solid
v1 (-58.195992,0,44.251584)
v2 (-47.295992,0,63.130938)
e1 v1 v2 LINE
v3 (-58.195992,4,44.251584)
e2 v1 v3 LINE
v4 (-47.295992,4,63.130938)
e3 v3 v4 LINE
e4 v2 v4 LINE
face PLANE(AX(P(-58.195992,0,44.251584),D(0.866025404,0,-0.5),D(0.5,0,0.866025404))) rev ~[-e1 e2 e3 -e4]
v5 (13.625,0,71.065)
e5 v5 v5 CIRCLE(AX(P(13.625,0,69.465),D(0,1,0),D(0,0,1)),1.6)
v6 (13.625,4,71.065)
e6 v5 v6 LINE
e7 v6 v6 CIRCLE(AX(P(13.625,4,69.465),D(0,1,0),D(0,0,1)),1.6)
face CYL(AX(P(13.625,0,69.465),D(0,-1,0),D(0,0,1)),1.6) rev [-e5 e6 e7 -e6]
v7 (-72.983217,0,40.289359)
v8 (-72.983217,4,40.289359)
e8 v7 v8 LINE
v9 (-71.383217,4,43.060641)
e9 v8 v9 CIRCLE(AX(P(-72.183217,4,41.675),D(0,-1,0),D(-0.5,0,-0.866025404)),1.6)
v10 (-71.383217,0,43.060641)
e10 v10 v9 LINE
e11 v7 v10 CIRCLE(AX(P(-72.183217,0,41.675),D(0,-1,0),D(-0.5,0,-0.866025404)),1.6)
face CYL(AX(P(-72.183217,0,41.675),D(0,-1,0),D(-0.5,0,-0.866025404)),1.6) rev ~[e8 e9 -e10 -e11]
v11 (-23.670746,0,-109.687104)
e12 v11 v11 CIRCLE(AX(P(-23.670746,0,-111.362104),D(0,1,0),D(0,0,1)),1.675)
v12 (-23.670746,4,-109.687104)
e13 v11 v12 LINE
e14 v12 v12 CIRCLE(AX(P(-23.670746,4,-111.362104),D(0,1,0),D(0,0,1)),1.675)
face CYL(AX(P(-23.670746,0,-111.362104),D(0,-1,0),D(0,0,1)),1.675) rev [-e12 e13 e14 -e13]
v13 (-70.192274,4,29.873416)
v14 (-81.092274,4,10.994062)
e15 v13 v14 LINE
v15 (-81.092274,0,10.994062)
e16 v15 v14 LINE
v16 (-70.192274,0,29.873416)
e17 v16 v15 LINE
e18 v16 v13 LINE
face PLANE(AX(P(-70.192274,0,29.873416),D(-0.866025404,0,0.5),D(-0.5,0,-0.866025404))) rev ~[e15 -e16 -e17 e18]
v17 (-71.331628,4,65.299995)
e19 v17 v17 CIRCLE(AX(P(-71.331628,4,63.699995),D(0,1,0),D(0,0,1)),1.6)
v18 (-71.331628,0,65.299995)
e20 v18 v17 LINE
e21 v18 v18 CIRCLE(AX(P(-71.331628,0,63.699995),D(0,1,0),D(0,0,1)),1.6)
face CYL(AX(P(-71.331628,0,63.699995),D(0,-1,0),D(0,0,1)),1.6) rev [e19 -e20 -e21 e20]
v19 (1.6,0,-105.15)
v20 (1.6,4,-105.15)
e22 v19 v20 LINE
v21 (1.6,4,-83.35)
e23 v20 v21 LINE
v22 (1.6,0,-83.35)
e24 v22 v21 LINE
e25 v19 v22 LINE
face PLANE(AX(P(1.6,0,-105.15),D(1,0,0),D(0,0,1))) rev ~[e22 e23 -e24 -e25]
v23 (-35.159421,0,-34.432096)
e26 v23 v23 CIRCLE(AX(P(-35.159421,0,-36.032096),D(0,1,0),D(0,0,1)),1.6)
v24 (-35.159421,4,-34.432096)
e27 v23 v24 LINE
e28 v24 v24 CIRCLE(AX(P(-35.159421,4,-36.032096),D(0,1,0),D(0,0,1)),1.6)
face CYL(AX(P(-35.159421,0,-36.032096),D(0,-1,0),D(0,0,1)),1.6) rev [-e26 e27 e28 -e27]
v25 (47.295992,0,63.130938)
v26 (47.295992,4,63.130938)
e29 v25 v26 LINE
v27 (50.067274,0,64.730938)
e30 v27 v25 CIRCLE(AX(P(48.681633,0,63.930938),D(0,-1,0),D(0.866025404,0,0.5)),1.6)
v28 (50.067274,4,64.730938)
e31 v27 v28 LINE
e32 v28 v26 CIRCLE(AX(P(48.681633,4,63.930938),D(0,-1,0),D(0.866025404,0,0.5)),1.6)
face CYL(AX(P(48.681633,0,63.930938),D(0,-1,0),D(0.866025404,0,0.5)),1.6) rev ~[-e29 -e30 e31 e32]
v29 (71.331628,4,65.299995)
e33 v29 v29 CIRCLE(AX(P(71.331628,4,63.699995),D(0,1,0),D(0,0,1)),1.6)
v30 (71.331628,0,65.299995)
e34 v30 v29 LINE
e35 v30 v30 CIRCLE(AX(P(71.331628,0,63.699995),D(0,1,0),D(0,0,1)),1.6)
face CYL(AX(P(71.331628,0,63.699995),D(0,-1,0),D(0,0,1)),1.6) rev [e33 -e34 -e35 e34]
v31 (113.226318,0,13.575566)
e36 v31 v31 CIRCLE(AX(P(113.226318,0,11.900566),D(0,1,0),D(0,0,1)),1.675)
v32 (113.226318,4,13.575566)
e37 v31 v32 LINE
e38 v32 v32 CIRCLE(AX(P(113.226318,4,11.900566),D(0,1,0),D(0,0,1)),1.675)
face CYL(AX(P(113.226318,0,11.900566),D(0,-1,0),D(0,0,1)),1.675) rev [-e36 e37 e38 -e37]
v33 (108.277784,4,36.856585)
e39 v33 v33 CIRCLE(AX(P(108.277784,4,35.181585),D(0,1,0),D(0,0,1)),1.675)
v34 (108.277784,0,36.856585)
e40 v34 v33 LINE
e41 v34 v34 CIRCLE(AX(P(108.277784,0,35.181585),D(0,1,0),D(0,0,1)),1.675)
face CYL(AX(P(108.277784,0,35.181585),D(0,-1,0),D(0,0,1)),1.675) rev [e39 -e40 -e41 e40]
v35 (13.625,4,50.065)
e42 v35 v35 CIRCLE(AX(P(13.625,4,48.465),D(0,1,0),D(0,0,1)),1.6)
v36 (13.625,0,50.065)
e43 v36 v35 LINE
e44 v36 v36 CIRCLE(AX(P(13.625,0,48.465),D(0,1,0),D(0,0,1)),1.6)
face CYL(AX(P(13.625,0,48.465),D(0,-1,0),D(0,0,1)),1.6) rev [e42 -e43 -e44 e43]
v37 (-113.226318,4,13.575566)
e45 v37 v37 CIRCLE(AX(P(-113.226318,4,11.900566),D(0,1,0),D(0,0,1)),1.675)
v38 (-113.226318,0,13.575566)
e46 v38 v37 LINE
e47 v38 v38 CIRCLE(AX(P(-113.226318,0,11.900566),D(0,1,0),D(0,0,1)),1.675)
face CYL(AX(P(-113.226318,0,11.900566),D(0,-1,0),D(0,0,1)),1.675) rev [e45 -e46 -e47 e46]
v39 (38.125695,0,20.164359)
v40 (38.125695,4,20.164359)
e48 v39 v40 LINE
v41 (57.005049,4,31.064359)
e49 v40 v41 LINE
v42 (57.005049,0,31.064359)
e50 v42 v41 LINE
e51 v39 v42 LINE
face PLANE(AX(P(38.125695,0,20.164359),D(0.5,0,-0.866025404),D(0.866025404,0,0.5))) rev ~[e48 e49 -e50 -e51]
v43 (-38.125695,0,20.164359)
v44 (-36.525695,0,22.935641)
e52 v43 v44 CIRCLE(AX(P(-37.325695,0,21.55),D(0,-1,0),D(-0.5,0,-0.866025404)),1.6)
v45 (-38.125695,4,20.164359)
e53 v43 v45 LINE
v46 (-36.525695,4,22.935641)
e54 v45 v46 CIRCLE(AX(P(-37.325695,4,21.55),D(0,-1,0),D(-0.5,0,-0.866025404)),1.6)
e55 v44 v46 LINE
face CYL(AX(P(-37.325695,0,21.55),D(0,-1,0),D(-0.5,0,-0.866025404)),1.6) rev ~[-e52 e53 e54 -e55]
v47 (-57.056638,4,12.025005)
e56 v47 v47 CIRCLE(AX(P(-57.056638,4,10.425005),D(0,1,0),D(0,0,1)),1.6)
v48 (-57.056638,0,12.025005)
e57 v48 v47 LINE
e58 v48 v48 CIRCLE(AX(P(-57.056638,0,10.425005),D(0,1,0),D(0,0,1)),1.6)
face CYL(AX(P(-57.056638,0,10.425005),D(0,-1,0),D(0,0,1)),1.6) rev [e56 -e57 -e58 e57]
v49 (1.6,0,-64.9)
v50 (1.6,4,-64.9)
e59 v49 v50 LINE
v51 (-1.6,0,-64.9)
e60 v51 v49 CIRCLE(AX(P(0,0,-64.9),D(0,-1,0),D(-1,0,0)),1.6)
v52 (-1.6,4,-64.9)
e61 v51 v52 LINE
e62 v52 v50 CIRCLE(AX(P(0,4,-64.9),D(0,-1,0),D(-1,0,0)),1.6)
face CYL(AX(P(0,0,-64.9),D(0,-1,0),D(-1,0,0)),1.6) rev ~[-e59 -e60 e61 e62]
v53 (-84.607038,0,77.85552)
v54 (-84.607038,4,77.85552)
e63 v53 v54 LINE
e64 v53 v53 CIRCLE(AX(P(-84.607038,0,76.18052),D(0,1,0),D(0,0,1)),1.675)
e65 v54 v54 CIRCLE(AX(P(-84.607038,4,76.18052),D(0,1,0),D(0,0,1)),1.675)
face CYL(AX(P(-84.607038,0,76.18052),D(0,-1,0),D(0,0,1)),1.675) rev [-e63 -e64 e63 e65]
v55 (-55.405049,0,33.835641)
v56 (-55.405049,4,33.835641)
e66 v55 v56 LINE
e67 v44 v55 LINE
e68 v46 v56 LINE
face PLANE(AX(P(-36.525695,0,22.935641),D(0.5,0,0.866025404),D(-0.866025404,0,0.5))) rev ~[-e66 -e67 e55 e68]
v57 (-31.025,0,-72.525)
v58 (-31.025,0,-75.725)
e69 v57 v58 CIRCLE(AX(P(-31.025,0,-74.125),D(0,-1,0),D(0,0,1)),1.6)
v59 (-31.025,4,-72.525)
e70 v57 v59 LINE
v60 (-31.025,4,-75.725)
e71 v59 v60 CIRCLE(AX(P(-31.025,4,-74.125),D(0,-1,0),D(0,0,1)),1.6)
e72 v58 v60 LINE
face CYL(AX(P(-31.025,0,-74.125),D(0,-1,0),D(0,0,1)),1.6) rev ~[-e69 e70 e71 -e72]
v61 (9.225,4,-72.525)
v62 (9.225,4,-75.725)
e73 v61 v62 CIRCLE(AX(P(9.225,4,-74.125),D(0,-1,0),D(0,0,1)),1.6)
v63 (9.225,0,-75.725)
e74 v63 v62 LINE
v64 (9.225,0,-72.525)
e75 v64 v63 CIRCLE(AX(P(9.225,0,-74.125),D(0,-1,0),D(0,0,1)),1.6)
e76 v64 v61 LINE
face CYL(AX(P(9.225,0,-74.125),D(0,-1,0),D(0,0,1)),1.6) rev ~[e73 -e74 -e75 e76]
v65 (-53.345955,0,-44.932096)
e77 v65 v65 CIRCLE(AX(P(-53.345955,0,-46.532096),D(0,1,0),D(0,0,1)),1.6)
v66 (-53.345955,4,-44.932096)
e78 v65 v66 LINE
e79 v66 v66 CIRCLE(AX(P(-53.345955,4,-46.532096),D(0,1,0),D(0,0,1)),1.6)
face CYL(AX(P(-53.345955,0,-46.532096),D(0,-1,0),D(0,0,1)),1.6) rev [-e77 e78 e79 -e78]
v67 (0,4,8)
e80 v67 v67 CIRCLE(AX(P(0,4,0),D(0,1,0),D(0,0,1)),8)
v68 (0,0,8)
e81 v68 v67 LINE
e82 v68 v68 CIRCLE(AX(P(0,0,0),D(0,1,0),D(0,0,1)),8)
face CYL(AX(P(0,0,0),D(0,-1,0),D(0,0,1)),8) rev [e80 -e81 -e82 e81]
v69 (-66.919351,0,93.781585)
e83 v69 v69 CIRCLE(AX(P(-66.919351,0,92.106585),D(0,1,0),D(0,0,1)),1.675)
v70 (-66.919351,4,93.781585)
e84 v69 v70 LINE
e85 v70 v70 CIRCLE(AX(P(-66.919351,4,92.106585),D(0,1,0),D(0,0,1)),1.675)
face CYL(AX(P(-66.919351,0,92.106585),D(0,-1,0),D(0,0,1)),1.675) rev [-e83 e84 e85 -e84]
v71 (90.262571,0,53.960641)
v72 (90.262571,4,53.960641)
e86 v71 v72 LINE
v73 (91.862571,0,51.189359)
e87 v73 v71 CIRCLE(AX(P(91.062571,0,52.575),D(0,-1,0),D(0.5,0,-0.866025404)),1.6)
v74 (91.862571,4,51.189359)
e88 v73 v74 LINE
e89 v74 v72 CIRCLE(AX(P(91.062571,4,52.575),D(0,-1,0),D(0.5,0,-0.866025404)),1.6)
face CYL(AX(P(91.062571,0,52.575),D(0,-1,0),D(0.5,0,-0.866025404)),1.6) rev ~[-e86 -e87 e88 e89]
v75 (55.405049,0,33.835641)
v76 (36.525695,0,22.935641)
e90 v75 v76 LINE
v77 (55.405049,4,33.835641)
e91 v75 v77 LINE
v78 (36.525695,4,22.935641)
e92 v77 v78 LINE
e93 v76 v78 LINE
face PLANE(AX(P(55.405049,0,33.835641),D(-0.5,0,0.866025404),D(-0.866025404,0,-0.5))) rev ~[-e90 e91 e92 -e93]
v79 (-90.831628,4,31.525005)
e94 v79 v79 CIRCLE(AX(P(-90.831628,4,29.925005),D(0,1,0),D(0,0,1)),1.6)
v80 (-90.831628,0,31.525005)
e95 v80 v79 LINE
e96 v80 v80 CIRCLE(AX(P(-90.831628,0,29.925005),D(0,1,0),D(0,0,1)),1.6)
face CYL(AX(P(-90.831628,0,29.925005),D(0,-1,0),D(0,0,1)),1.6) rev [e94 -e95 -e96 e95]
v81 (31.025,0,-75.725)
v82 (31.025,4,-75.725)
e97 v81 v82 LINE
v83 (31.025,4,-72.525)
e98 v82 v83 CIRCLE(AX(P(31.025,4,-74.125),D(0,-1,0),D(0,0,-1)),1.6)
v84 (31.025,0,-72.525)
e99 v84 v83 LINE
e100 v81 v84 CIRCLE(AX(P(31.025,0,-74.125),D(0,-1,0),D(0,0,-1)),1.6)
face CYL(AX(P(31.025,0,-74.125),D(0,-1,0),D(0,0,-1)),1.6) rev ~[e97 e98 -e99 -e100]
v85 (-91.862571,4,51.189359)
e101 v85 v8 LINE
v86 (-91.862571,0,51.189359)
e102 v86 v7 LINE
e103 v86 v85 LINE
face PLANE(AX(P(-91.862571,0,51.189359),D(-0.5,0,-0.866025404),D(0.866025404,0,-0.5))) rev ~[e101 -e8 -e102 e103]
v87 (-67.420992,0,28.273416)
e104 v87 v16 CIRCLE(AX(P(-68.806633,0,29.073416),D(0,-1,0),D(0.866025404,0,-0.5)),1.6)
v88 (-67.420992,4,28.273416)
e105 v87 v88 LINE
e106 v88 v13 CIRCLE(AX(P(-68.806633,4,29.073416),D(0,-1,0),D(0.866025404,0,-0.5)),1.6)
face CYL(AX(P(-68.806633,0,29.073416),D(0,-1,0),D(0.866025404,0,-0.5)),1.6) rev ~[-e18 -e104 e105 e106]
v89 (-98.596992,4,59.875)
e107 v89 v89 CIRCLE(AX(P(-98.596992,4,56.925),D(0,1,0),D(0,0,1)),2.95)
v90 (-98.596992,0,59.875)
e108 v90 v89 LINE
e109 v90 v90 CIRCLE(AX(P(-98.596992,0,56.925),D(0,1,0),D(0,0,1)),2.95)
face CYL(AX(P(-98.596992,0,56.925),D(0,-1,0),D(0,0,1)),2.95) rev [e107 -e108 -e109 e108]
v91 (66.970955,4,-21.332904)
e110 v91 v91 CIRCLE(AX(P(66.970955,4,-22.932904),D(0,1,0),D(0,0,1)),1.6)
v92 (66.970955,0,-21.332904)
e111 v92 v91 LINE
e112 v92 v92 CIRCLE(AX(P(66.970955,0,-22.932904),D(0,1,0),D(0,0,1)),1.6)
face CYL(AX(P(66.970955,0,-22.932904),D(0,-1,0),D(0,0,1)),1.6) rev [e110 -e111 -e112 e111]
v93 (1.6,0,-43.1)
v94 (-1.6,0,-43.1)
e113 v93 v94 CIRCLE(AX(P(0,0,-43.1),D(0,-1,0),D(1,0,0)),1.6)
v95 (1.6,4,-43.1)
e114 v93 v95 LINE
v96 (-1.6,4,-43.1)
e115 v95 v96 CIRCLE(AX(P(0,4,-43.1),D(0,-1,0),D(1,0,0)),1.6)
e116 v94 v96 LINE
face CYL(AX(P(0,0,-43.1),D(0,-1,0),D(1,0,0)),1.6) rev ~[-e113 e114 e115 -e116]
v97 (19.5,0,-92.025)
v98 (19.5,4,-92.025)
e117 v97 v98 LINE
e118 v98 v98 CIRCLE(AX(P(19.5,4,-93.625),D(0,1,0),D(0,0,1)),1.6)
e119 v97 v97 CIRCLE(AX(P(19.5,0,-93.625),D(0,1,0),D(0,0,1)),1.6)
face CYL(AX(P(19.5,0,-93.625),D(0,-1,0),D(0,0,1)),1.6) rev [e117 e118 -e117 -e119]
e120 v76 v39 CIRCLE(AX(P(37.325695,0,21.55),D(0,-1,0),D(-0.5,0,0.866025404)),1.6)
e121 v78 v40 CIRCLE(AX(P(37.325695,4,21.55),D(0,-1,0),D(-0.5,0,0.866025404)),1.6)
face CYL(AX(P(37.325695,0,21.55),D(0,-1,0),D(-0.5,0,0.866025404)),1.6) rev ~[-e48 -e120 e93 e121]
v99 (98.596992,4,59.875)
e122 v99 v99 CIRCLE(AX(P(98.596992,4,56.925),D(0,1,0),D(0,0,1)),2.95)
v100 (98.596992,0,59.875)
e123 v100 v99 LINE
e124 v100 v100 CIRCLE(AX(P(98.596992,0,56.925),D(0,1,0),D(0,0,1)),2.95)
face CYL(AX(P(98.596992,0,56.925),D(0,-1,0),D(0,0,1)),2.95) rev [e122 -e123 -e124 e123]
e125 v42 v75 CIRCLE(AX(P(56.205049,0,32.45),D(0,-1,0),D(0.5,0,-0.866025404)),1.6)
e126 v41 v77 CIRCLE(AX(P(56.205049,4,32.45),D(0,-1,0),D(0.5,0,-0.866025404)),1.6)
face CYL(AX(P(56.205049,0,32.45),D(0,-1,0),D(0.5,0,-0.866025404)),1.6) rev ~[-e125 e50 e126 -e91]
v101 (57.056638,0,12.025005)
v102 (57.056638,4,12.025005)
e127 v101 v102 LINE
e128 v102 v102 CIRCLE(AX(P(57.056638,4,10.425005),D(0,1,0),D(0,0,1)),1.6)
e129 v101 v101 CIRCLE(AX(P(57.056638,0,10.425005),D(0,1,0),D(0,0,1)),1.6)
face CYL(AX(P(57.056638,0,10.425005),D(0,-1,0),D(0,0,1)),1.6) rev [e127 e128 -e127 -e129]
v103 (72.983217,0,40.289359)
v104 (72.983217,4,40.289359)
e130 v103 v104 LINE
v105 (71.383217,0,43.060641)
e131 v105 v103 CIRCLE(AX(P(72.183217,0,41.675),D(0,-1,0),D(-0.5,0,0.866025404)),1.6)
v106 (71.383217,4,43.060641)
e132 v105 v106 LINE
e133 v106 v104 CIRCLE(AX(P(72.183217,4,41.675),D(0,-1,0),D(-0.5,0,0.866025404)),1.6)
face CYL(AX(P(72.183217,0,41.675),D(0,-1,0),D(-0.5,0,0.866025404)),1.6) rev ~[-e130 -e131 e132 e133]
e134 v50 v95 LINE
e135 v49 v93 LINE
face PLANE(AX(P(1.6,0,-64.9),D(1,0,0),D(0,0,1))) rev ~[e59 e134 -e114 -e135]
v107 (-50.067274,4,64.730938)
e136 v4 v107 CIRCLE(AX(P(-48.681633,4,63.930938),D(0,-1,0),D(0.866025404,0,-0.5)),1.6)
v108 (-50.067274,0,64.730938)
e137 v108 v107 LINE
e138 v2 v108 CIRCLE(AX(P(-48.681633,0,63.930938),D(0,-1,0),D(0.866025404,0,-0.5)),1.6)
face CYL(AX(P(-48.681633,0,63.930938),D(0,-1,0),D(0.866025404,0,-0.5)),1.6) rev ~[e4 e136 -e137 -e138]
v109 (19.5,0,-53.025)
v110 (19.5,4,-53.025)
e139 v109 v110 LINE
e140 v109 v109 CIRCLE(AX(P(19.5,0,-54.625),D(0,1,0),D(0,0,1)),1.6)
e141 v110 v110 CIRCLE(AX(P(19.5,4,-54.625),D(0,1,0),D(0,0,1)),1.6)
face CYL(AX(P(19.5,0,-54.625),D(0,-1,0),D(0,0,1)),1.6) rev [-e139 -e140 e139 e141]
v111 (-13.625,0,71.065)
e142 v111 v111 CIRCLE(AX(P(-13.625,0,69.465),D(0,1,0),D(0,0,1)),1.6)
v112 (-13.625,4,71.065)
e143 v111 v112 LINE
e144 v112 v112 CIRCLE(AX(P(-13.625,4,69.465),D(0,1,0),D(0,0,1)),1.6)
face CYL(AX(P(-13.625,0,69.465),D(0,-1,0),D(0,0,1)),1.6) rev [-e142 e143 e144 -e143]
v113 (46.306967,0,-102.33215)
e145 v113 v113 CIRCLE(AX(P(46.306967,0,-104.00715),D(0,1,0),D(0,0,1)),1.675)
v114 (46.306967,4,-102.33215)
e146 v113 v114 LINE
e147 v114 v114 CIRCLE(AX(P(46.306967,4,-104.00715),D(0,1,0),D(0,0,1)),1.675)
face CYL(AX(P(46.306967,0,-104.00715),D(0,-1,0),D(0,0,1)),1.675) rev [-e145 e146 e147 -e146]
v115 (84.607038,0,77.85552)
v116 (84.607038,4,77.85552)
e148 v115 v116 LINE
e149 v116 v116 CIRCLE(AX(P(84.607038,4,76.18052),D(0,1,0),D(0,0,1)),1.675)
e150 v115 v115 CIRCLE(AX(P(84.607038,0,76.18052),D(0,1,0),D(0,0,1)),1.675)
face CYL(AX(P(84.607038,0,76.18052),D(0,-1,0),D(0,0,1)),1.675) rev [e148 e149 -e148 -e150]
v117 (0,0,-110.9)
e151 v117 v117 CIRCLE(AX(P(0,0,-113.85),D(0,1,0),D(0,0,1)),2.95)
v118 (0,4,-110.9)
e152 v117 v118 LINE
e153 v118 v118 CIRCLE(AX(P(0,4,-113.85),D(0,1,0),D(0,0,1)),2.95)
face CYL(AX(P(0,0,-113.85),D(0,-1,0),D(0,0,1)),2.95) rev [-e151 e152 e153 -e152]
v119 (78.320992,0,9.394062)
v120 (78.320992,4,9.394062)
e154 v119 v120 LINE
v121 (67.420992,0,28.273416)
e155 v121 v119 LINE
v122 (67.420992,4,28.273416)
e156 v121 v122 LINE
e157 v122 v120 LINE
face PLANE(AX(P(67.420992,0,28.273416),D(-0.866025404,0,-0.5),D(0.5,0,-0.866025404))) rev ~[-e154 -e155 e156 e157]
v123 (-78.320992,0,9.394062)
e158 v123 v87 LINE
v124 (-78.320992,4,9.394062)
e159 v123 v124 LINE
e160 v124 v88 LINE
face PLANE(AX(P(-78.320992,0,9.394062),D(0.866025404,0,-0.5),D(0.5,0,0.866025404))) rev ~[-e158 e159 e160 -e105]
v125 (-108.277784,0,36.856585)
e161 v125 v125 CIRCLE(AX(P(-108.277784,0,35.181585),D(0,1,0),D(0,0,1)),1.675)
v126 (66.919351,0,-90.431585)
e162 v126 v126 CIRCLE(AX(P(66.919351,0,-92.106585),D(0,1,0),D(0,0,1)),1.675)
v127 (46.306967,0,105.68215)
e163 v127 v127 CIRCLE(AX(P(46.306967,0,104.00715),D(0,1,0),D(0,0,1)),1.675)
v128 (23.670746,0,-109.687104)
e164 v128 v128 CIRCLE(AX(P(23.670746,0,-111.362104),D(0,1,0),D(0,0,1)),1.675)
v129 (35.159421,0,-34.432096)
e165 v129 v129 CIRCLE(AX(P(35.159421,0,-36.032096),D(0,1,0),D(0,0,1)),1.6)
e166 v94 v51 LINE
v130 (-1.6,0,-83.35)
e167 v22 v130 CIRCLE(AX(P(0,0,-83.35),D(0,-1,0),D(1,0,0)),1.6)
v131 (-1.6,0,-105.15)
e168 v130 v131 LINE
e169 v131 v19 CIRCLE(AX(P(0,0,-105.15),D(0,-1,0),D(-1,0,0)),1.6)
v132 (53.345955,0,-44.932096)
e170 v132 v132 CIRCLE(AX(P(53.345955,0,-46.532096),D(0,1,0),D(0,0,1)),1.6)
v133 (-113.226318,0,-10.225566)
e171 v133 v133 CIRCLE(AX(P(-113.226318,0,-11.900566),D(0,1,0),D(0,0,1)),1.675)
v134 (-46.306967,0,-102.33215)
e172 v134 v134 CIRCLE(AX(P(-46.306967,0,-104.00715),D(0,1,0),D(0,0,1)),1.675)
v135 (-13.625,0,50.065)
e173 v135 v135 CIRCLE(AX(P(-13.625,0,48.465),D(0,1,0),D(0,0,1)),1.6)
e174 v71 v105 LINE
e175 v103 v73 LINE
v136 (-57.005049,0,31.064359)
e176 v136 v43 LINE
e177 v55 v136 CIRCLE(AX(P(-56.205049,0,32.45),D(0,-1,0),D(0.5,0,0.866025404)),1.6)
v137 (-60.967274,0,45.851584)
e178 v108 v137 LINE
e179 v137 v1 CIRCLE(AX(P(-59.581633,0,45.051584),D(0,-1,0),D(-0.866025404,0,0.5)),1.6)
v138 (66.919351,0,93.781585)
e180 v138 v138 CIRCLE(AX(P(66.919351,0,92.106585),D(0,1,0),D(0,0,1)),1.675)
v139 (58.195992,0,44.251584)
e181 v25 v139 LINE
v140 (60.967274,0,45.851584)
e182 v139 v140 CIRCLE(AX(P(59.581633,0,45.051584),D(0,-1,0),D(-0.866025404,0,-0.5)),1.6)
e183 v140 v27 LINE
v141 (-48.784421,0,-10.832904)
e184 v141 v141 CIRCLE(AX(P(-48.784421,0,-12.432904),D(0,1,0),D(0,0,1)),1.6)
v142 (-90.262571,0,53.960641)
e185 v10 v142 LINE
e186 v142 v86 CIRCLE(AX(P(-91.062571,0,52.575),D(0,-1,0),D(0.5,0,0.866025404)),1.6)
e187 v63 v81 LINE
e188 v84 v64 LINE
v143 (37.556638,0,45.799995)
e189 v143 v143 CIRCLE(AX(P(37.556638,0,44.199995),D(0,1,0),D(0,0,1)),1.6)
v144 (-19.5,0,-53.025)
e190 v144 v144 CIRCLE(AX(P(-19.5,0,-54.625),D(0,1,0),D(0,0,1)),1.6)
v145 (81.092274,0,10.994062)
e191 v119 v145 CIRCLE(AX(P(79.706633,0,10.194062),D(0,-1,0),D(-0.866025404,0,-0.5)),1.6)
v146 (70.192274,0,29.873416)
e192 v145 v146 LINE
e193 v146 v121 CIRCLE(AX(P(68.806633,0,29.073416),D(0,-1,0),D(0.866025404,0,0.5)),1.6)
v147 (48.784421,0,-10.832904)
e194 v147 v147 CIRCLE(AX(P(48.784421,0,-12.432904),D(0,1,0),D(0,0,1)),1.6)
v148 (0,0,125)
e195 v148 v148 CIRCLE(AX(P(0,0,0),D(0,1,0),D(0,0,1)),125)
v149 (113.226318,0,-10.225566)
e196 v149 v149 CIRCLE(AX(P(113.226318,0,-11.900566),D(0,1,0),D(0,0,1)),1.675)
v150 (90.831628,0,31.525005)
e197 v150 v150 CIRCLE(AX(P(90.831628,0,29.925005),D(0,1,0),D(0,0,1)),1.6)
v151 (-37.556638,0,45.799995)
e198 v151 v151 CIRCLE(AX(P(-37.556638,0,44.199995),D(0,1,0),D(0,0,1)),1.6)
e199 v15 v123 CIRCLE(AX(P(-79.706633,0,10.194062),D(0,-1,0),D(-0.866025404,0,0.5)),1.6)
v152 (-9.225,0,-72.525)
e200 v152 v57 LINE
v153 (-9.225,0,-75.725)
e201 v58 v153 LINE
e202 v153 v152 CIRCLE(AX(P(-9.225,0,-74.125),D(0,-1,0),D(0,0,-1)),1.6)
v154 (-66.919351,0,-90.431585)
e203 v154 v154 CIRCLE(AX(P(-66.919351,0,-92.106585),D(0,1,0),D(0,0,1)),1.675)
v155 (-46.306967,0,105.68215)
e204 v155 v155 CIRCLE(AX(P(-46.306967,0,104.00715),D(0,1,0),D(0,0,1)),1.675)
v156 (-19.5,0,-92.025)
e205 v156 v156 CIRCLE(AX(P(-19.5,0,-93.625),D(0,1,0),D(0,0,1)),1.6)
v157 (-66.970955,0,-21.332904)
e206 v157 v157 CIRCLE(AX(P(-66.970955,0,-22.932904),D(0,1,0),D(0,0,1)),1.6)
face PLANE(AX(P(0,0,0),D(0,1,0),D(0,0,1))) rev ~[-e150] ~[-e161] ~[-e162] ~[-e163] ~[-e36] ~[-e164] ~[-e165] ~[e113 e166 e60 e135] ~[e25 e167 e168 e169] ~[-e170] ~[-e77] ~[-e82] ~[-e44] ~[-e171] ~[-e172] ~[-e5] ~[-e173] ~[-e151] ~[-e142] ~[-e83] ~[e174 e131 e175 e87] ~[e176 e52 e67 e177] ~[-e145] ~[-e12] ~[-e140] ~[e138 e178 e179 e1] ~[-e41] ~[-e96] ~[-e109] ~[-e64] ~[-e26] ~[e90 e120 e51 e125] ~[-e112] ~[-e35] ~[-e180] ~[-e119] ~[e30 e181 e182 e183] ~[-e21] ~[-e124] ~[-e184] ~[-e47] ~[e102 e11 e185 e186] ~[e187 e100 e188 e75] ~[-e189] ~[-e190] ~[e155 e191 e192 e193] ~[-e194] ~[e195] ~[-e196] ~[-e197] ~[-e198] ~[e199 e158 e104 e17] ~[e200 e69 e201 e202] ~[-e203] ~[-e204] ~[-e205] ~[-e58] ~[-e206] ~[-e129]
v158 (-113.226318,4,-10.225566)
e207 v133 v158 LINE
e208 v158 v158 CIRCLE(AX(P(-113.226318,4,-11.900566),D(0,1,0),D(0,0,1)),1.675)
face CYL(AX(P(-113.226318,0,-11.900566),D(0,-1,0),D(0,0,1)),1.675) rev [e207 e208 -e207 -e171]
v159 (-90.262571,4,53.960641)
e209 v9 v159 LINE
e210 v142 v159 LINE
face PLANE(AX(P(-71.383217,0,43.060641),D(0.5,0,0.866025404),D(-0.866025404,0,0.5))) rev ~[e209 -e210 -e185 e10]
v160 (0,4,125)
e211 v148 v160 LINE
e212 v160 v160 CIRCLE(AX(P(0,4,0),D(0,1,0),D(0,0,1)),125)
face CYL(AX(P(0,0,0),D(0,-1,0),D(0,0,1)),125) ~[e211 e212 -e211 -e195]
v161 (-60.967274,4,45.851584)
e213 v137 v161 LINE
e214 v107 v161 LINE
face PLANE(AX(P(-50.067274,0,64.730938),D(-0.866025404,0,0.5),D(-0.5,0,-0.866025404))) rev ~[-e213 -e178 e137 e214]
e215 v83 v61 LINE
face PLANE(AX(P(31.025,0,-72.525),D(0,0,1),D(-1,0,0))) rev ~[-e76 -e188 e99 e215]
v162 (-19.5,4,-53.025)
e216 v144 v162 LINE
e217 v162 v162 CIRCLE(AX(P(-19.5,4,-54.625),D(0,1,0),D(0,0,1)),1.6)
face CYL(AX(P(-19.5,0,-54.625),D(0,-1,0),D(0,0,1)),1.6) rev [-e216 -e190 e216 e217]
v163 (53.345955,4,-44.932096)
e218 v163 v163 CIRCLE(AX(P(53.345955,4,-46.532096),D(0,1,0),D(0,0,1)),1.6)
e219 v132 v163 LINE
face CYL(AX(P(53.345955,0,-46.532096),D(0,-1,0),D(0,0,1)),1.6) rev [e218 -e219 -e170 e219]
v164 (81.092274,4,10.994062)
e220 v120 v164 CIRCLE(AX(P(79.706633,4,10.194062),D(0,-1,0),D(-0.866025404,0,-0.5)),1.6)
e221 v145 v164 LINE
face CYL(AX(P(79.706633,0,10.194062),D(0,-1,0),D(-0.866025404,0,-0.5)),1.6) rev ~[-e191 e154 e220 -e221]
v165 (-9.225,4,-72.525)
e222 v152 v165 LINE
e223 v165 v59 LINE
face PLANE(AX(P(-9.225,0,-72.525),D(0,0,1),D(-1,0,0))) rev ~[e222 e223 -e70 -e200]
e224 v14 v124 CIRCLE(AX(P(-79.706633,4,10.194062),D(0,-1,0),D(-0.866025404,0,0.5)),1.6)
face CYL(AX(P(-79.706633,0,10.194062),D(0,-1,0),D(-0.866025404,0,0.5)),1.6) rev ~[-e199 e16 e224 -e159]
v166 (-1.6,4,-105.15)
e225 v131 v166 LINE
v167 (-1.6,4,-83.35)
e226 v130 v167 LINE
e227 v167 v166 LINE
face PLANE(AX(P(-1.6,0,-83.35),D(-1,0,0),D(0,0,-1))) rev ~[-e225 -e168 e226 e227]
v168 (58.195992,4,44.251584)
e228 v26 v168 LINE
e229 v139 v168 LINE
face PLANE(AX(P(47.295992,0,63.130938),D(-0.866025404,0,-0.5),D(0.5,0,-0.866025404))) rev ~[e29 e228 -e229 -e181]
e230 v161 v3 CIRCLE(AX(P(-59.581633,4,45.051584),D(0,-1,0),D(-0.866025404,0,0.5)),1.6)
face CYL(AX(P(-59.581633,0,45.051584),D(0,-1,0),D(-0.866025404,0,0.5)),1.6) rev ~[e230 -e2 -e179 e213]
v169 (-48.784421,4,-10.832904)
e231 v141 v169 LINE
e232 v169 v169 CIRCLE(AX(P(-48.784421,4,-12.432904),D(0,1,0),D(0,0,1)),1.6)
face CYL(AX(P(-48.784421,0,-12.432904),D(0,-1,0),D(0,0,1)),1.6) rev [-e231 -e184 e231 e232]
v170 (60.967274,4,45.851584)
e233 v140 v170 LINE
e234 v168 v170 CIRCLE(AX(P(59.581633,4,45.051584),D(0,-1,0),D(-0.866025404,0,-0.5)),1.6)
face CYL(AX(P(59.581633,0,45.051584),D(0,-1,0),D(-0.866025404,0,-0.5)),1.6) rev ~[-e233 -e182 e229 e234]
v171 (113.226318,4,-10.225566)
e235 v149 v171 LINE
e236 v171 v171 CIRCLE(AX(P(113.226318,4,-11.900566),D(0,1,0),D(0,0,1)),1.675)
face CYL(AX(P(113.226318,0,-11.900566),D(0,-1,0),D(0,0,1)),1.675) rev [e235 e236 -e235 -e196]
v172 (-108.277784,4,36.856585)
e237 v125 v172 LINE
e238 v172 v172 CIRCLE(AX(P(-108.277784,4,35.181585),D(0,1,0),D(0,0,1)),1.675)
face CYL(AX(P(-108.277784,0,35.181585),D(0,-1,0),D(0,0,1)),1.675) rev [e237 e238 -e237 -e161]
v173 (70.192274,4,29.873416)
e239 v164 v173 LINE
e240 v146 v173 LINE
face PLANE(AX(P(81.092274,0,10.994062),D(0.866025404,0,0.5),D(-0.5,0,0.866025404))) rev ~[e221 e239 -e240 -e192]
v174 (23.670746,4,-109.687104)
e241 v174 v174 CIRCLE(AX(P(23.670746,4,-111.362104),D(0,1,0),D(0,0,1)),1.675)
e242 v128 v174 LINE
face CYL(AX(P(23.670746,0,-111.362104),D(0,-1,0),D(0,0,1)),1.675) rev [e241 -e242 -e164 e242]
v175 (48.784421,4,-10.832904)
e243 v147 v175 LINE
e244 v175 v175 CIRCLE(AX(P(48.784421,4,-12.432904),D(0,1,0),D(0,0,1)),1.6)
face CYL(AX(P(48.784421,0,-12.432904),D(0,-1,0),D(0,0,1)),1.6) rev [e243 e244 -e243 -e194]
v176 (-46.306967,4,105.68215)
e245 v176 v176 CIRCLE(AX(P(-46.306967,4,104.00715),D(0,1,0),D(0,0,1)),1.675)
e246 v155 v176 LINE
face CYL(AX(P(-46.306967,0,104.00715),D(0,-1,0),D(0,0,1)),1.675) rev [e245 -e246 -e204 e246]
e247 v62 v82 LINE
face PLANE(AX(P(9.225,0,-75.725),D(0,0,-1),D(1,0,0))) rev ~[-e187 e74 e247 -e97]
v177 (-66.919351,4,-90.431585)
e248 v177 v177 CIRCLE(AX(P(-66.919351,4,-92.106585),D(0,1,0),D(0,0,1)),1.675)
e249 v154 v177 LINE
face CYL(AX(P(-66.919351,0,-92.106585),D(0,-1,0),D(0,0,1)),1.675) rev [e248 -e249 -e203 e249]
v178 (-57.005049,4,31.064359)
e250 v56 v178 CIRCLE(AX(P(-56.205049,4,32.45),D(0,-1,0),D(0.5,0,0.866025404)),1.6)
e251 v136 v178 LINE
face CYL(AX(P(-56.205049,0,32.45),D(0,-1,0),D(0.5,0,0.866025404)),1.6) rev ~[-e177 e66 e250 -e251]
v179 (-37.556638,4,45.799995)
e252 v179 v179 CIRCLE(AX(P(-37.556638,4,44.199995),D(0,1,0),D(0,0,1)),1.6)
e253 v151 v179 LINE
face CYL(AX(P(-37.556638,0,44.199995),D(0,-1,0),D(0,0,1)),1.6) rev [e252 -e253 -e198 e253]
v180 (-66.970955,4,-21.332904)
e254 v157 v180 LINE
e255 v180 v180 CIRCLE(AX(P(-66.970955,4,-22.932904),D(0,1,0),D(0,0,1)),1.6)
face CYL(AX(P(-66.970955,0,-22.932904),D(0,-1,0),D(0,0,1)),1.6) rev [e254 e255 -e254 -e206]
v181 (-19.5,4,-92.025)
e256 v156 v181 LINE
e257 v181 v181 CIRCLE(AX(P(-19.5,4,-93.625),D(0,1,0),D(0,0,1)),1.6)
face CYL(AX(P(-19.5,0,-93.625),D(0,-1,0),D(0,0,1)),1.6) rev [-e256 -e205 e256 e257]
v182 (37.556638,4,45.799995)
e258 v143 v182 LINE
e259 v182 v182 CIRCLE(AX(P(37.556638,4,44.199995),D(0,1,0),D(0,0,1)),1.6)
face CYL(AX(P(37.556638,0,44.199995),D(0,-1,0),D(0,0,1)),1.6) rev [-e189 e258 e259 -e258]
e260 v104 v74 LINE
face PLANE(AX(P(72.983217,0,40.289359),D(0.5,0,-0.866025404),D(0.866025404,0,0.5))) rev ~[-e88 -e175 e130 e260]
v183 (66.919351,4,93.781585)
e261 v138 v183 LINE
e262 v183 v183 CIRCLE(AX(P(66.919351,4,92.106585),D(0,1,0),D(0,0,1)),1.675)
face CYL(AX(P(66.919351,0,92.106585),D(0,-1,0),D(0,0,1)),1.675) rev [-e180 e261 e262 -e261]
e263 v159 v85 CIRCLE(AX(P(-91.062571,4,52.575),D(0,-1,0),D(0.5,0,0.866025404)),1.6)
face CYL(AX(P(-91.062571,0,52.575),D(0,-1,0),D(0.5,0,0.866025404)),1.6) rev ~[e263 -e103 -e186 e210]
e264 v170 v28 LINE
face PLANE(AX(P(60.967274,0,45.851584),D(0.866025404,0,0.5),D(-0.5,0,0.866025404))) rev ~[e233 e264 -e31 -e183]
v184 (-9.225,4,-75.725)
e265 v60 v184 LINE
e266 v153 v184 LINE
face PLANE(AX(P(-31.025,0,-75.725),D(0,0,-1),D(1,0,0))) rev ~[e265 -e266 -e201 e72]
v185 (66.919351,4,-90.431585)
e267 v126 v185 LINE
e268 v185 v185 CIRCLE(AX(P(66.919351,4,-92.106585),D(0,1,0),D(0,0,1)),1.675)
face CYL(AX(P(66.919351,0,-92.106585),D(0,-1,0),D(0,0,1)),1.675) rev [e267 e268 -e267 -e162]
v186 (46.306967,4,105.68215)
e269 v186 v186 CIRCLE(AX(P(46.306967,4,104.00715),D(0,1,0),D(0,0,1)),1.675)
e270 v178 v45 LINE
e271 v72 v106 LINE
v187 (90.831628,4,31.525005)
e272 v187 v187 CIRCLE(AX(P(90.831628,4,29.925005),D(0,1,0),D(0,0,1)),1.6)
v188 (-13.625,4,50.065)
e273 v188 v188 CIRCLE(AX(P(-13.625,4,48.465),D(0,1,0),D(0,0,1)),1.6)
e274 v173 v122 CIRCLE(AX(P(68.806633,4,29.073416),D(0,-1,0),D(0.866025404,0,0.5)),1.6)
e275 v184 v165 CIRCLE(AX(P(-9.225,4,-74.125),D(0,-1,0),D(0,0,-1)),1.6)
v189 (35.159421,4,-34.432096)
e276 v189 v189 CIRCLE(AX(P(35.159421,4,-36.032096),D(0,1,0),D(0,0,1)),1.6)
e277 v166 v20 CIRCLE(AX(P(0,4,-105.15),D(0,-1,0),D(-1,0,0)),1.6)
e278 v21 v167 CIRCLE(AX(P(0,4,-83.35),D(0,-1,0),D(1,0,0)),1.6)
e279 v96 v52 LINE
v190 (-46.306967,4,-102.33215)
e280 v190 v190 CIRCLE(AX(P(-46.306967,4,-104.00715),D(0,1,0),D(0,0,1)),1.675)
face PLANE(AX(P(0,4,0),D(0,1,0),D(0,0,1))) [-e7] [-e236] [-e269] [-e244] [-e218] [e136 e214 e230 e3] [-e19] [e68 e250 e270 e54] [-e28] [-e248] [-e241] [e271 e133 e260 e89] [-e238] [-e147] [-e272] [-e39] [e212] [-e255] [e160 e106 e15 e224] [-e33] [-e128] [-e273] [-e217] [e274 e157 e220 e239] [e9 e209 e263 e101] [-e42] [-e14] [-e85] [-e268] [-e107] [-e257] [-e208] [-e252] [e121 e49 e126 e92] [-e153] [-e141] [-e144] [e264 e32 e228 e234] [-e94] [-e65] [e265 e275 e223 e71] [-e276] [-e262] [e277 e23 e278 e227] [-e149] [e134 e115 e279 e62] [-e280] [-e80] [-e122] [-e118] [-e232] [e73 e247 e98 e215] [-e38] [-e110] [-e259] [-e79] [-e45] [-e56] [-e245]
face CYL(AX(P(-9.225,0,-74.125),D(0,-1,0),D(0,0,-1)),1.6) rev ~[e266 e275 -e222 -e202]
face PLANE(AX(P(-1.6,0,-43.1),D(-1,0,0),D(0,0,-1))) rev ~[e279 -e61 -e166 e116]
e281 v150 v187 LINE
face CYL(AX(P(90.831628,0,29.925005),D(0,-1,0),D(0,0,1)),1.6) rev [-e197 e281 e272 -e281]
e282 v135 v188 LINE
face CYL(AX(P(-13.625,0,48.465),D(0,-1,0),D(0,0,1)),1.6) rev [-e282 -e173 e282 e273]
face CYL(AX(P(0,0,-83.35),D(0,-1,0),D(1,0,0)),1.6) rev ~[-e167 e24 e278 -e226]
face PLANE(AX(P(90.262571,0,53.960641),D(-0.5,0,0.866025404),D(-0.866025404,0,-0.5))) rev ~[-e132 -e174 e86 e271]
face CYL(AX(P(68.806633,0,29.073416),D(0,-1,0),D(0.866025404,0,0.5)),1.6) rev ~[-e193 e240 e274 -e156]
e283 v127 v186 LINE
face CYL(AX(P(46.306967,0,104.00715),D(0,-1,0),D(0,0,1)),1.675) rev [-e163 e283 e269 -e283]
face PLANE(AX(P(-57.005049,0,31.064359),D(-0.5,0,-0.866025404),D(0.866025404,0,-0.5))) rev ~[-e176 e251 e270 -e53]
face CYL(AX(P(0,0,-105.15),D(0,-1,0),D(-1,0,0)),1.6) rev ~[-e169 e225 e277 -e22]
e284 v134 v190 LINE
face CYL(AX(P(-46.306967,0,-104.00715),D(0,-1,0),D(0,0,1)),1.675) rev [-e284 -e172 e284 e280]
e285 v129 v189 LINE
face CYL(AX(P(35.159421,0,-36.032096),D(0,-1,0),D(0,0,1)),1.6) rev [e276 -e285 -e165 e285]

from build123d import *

# Parameters (mm, degrees)
SKETCH1_R           = 125
SKETCH1_R_2         = 8
SKETCH1_R_3         = 2.95
SKETCH1_R_4         = 1.675
SKETCH1_R_5         = 1.6
BOSS_EXTRUDE2_DEPTH = 4


with BuildPart() as part:
    # Sketch1 → Boss-Extrude2 (new body)
    with BuildSketch(Plane(origin=(0, 0, 0), x_dir=(1, 0, 0), z_dir=(0, 1, 0))):
        with Locations(Location((0, 0, 0), (0, 0, 270))):
            Circle(SKETCH1_R)
        with Locations(Location((0, 0, 0), (0, 0, 270))):
            Circle(SKETCH1_R_2, mode=Mode.SUBTRACT)
        with Locations(Location((0, 113.85, 0), (0, 0, 270))):
            Circle(SKETCH1_R_3, mode=Mode.SUBTRACT)
        with Locations(Location((98.596992221, -56.925, 0), (0, 0, 270))):
            Circle(SKETCH1_R_3, mode=Mode.SUBTRACT)
        with Locations(Location((-98.596992221, -56.925, 0), (0, 0, 270))):
            Circle(SKETCH1_R_3, mode=Mode.SUBTRACT)
        with Locations(Location((23.670746, 111.362104344, 0), (0, 0, 270))):
            Circle(SKETCH1_R_4, mode=Mode.SUBTRACT)
        with Locations(Location((46.306966814, 104.007150353, 0), (0, 0, 270))):
            Circle(SKETCH1_R_4, mode=Mode.SUBTRACT)
        with Locations(Location((66.919350973, 92.10658481, 0), (0, 0, 270))):
            Circle(SKETCH1_R_4, mode=Mode.SUBTRACT)
        with Locations(Location((113.226317788, 11.900565543, 0), (0, 0, 270))):
            Circle(SKETCH1_R_4, mode=Mode.SUBTRACT)
        with Locations(Location((113.226317788, -11.900565543, 0), (0, 0, 270))):
            Circle(SKETCH1_R_4, mode=Mode.SUBTRACT)
        with Locations(Location((108.27778438, -35.18158481, 0), (0, 0, 270))):
            Circle(SKETCH1_R_4, mode=Mode.SUBTRACT)
        with Locations(Location((84.607038381, -76.180519534, 0), (0, 0, 270))):
            Circle(SKETCH1_R_4, mode=Mode.SUBTRACT)
        with Locations(Location((66.919350974, -92.10658481, 0), (0, 0, 270))):
            Circle(SKETCH1_R_4, mode=Mode.SUBTRACT)
        with Locations(Location((46.306966814, -104.007150353, 0), (0, 0, 270))):
            Circle(SKETCH1_R_4, mode=Mode.SUBTRACT)
        with Locations(Location((-46.306966814, -104.007150353, 0), (0, 0, 270))):
            Circle(SKETCH1_R_4, mode=Mode.SUBTRACT)
        with Locations(Location((-66.919350973, -92.10658481, 0), (0, 0, 270))):
            Circle(SKETCH1_R_4, mode=Mode.SUBTRACT)
        with Locations(Location((-84.607038381, -76.180519534, 0), (0, 0, 270))):
            Circle(SKETCH1_R_4, mode=Mode.SUBTRACT)
        with Locations(Location((-108.27778438, -35.18158481, 0), (0, 0, 270))):
            Circle(SKETCH1_R_4, mode=Mode.SUBTRACT)
        with Locations(Location((-113.226317788, -11.900565543, 0), (0, 0, 270))):
            Circle(SKETCH1_R_4, mode=Mode.SUBTRACT)
        with Locations(Location((-113.226317788, 11.900565543, 0), (0, 0, 270))):
            Circle(SKETCH1_R_4, mode=Mode.SUBTRACT)
        with Locations(Location((-66.919350973, 92.10658481, 0), (0, 0, 270))):
            Circle(SKETCH1_R_4, mode=Mode.SUBTRACT)
        with Locations(Location((-46.306966814, 104.007150353, 0), (0, 0, 270))):
            Circle(SKETCH1_R_4, mode=Mode.SUBTRACT)
        with Locations(Location((-23.670746, 111.362104344, 0), (0, 0, 270))):
            Circle(SKETCH1_R_4, mode=Mode.SUBTRACT)
        with Locations(Location((-90.831628429, -29.925004626, 0), (0, 0, 270))):
            Circle(SKETCH1_R_5, mode=Mode.SUBTRACT)
        with Locations(Location((-57.056637682, -10.425004626, 0), (0, 0, 270))):
            Circle(SKETCH1_R_5, mode=Mode.SUBTRACT)
        with Locations(Location((-37.556637682, -44.199995374, 0), (0, 0, 270))):
            Circle(SKETCH1_R_5, mode=Mode.SUBTRACT)
        with Locations(Location((-71.331628429, -63.699995374, 0), (0, 0, 270))):
            Circle(SKETCH1_R_5, mode=Mode.SUBTRACT)
        with Locations(Location((19.5, 93.625, 0), (0, 0, 270))):
            Circle(SKETCH1_R_5, mode=Mode.SUBTRACT)
        with Locations(Location((19.5, 54.625, 0), (0, 0, 270))):
            Circle(SKETCH1_R_5, mode=Mode.SUBTRACT)
        with Locations(Location((-19.5, 54.625, 0), (0, 0, 270))):
            Circle(SKETCH1_R_5, mode=Mode.SUBTRACT)
        with Locations(Location((-19.5, 93.625, 0), (0, 0, 270))):
            Circle(SKETCH1_R_5, mode=Mode.SUBTRACT)
        with Locations(Location((71.331628429, -63.699995374, 0), (0, 0, 270))):
            Circle(SKETCH1_R_5, mode=Mode.SUBTRACT)
        with Locations(Location((37.556637682, -44.199995374, 0), (0, 0, 270))):
            Circle(SKETCH1_R_5, mode=Mode.SUBTRACT)
        with Locations(Location((57.056637682, -10.425004626, 0), (0, 0, 270))):
            Circle(SKETCH1_R_5, mode=Mode.SUBTRACT)
        with Locations(Location((90.831628429, -29.925004626, 0), (0, 0, 270))):
            Circle(SKETCH1_R_5, mode=Mode.SUBTRACT)
        with Locations(Location((-13.625, -48.465, 0), (0, 0, 270))):
            Circle(SKETCH1_R_5, mode=Mode.SUBTRACT)
        with Locations(Location((13.625, -48.465, 0), (0, 0, 270))):
            Circle(SKETCH1_R_5, mode=Mode.SUBTRACT)
        with Locations(Location((13.625, -69.465, 0), (0, 0, 270))):
            Circle(SKETCH1_R_5, mode=Mode.SUBTRACT)
        with Locations(Location((-13.625, -69.465, 0), (0, 0, 270))):
            Circle(SKETCH1_R_5, mode=Mode.SUBTRACT)
        with Locations(Location((-35.159421194, 36.032096127, 0), (0, 0, 270))):
            Circle(SKETCH1_R_5, mode=Mode.SUBTRACT)
        with Locations(Location((-48.784421194, 12.432903873, 0), (0, 0, 270))):
            Circle(SKETCH1_R_5, mode=Mode.SUBTRACT)
        with Locations(Location((-66.970954674, 22.932903873, 0), (0, 0, 270))):
            Circle(SKETCH1_R_5, mode=Mode.SUBTRACT)
        with Locations(Location((-53.345954674, 46.532096127, 0), (0, 0, 270))):
            Circle(SKETCH1_R_5, mode=Mode.SUBTRACT)
        with Locations(Location((48.784421194, 12.432903873, 0), (0, 0, 270))):
            Circle(SKETCH1_R_5, mode=Mode.SUBTRACT)
        with Locations(Location((35.159421194, 36.032096127, 0), (0, 0, 270))):
            Circle(SKETCH1_R_5, mode=Mode.SUBTRACT)
        with Locations(Location((53.345954674, 46.532096127, 0), (0, 0, 270))):
            Circle(SKETCH1_R_5, mode=Mode.SUBTRACT)
        with Locations(Location((66.970954674, 22.932903873, 0), (0, 0, 270))):
            Circle(SKETCH1_R_5, mode=Mode.SUBTRACT)
        with BuildLine():
            Line((-71.383217405, -43.060640646), (-90.262571208, -53.960640646))
            ThreePointArc((-90.262571208, -53.960640646), (-92.448211854, -53.375), (-91.862571208, -51.189359354))
            Line((-91.862571208, -51.189359354), (-72.983217405, -40.289359354))
            ThreePointArc((-72.983217405, -40.289359354), (-70.797576759, -40.875), (-71.383217405, -43.060640646))
        make_face(mode=Mode.SUBTRACT)
        with BuildLine():
            Line((-36.525694903, -22.935640646), (-55.405048706, -33.835640646))
            ThreePointArc((-55.405048706, -33.835640646), (-57.590689352, -33.25), (-57.005048706, -31.064359354))
            Line((-57.005048706, -31.064359354), (-38.125694903, -20.164359354))
            ThreePointArc((-38.125694903, -20.164359354), (-35.940054257, -20.75), (-36.525694903, -22.935640646))
        make_face(mode=Mode.SUBTRACT)
        with BuildLine():
            Line((-70.192273702, -29.87341565), (-81.092273702, -10.994061848))
            ThreePointArc((-81.092273702, -10.994061848), (-80.506633056, -8.808421202), (-78.320992409, -9.394061848))
            Line((-78.320992409, -9.394061848), (-67.420992409, -28.27341565))
            ThreePointArc((-67.420992409, -28.27341565), (-68.006633056, -30.459056296), (-70.192273702, -29.87341565))
        make_face(mode=Mode.SUBTRACT)
        with BuildLine():
            Line((-58.195992409, -44.25158435), (-47.295992409, -63.130938152))
            ThreePointArc((-47.295992409, -63.130938152), (-47.881633056, -65.316578798), (-50.067273702, -64.730938152))
            Line((-50.067273702, -64.730938152), (-60.967273702, -45.85158435))
            ThreePointArc((-60.967273702, -45.85158435), (-60.381633056, -43.665943704), (-58.195992409, -44.25158435))
        make_face(mode=Mode.SUBTRACT)
        with BuildLine():
            Line((-1.6, 83.35), (-1.6, 105.15))
            ThreePointArc((-1.6, 105.15), (0, 106.75), (1.6, 105.15))
            Line((1.6, 105.15), (1.6, 83.35))
            ThreePointArc((1.6, 83.35), (0, 81.75), (-1.6, 83.35))
        make_face(mode=Mode.SUBTRACT)
        with BuildLine():
            Line((-1.6, 43.1), (-1.6, 64.9))
            ThreePointArc((-1.6, 64.9), (0, 66.5), (1.6, 64.9))
            Line((1.6, 64.9), (1.6, 43.1))
            ThreePointArc((1.6, 43.1), (0, 41.5), (-1.6, 43.1))
        make_face(mode=Mode.SUBTRACT)
        with BuildLine():
            Line((9.225, 75.725), (31.025, 75.725))
            ThreePointArc((31.025, 75.725), (32.625, 74.125), (31.025, 72.525))
            Line((31.025, 72.525), (9.225, 72.525))
            ThreePointArc((9.225, 72.525), (7.625, 74.125), (9.225, 75.725))
        make_face(mode=Mode.SUBTRACT)
        with BuildLine():
            Line((-9.225, 72.525), (-31.025, 72.525))
            ThreePointArc((-31.025, 72.525), (-32.625, 74.125), (-31.025, 75.725))
            Line((-31.025, 75.725), (-9.225, 75.725))
            ThreePointArc((-9.225, 75.725), (-7.625, 74.125), (-9.225, 72.525))
        make_face(mode=Mode.SUBTRACT)
        with BuildLine():
            Line((72.983217405, -40.289359354), (91.862571208, -51.189359354))
            ThreePointArc((91.862571208, -51.189359354), (92.448211854, -53.375), (90.262571208, -53.960640646))
            Line((90.262571208, -53.960640646), (71.383217405, -43.060640646))
            ThreePointArc((71.383217405, -43.060640646), (70.797576759, -40.875), (72.983217405, -40.289359354))
        make_face(mode=Mode.SUBTRACT)
        with BuildLine():
            Line((38.125694903, -20.164359354), (57.005048706, -31.064359354))
            ThreePointArc((57.005048706, -31.064359354), (57.590689352, -33.25), (55.405048706, -33.835640646))
            Line((55.405048706, -33.835640646), (36.525694903, -22.935640646))
            ThreePointArc((36.525694903, -22.935640646), (35.940054257, -20.75), (38.125694903, -20.164359354))
        make_face(mode=Mode.SUBTRACT)
        with BuildLine():
            Line((60.967273702, -45.85158435), (50.067273702, -64.730938152))
            ThreePointArc((50.067273702, -64.730938152), (47.881633056, -65.316578798), (47.295992409, -63.130938152))
            Line((47.295992409, -63.130938152), (58.195992409, -44.25158435))
            ThreePointArc((58.195992409, -44.25158435), (60.381633056, -43.665943704), (60.967273702, -45.85158435))
        make_face(mode=Mode.SUBTRACT)
        with BuildLine():
            Line((67.420992409, -28.27341565), (78.320992409, -9.394061848))
            ThreePointArc((78.320992409, -9.394061848), (80.506633056, -8.808421202), (81.092273702, -10.994061848))
            Line((81.092273702, -10.994061848), (70.192273702, -29.87341565))
            ThreePointArc((70.192273702, -29.87341565), (68.006633056, -30.459056296), (67.420992409, -28.27341565))
        make_face(mode=Mode.SUBTRACT)
    extrude(amount=BOSS_EXTRUDE2_DEPTH)


solid = part.part
